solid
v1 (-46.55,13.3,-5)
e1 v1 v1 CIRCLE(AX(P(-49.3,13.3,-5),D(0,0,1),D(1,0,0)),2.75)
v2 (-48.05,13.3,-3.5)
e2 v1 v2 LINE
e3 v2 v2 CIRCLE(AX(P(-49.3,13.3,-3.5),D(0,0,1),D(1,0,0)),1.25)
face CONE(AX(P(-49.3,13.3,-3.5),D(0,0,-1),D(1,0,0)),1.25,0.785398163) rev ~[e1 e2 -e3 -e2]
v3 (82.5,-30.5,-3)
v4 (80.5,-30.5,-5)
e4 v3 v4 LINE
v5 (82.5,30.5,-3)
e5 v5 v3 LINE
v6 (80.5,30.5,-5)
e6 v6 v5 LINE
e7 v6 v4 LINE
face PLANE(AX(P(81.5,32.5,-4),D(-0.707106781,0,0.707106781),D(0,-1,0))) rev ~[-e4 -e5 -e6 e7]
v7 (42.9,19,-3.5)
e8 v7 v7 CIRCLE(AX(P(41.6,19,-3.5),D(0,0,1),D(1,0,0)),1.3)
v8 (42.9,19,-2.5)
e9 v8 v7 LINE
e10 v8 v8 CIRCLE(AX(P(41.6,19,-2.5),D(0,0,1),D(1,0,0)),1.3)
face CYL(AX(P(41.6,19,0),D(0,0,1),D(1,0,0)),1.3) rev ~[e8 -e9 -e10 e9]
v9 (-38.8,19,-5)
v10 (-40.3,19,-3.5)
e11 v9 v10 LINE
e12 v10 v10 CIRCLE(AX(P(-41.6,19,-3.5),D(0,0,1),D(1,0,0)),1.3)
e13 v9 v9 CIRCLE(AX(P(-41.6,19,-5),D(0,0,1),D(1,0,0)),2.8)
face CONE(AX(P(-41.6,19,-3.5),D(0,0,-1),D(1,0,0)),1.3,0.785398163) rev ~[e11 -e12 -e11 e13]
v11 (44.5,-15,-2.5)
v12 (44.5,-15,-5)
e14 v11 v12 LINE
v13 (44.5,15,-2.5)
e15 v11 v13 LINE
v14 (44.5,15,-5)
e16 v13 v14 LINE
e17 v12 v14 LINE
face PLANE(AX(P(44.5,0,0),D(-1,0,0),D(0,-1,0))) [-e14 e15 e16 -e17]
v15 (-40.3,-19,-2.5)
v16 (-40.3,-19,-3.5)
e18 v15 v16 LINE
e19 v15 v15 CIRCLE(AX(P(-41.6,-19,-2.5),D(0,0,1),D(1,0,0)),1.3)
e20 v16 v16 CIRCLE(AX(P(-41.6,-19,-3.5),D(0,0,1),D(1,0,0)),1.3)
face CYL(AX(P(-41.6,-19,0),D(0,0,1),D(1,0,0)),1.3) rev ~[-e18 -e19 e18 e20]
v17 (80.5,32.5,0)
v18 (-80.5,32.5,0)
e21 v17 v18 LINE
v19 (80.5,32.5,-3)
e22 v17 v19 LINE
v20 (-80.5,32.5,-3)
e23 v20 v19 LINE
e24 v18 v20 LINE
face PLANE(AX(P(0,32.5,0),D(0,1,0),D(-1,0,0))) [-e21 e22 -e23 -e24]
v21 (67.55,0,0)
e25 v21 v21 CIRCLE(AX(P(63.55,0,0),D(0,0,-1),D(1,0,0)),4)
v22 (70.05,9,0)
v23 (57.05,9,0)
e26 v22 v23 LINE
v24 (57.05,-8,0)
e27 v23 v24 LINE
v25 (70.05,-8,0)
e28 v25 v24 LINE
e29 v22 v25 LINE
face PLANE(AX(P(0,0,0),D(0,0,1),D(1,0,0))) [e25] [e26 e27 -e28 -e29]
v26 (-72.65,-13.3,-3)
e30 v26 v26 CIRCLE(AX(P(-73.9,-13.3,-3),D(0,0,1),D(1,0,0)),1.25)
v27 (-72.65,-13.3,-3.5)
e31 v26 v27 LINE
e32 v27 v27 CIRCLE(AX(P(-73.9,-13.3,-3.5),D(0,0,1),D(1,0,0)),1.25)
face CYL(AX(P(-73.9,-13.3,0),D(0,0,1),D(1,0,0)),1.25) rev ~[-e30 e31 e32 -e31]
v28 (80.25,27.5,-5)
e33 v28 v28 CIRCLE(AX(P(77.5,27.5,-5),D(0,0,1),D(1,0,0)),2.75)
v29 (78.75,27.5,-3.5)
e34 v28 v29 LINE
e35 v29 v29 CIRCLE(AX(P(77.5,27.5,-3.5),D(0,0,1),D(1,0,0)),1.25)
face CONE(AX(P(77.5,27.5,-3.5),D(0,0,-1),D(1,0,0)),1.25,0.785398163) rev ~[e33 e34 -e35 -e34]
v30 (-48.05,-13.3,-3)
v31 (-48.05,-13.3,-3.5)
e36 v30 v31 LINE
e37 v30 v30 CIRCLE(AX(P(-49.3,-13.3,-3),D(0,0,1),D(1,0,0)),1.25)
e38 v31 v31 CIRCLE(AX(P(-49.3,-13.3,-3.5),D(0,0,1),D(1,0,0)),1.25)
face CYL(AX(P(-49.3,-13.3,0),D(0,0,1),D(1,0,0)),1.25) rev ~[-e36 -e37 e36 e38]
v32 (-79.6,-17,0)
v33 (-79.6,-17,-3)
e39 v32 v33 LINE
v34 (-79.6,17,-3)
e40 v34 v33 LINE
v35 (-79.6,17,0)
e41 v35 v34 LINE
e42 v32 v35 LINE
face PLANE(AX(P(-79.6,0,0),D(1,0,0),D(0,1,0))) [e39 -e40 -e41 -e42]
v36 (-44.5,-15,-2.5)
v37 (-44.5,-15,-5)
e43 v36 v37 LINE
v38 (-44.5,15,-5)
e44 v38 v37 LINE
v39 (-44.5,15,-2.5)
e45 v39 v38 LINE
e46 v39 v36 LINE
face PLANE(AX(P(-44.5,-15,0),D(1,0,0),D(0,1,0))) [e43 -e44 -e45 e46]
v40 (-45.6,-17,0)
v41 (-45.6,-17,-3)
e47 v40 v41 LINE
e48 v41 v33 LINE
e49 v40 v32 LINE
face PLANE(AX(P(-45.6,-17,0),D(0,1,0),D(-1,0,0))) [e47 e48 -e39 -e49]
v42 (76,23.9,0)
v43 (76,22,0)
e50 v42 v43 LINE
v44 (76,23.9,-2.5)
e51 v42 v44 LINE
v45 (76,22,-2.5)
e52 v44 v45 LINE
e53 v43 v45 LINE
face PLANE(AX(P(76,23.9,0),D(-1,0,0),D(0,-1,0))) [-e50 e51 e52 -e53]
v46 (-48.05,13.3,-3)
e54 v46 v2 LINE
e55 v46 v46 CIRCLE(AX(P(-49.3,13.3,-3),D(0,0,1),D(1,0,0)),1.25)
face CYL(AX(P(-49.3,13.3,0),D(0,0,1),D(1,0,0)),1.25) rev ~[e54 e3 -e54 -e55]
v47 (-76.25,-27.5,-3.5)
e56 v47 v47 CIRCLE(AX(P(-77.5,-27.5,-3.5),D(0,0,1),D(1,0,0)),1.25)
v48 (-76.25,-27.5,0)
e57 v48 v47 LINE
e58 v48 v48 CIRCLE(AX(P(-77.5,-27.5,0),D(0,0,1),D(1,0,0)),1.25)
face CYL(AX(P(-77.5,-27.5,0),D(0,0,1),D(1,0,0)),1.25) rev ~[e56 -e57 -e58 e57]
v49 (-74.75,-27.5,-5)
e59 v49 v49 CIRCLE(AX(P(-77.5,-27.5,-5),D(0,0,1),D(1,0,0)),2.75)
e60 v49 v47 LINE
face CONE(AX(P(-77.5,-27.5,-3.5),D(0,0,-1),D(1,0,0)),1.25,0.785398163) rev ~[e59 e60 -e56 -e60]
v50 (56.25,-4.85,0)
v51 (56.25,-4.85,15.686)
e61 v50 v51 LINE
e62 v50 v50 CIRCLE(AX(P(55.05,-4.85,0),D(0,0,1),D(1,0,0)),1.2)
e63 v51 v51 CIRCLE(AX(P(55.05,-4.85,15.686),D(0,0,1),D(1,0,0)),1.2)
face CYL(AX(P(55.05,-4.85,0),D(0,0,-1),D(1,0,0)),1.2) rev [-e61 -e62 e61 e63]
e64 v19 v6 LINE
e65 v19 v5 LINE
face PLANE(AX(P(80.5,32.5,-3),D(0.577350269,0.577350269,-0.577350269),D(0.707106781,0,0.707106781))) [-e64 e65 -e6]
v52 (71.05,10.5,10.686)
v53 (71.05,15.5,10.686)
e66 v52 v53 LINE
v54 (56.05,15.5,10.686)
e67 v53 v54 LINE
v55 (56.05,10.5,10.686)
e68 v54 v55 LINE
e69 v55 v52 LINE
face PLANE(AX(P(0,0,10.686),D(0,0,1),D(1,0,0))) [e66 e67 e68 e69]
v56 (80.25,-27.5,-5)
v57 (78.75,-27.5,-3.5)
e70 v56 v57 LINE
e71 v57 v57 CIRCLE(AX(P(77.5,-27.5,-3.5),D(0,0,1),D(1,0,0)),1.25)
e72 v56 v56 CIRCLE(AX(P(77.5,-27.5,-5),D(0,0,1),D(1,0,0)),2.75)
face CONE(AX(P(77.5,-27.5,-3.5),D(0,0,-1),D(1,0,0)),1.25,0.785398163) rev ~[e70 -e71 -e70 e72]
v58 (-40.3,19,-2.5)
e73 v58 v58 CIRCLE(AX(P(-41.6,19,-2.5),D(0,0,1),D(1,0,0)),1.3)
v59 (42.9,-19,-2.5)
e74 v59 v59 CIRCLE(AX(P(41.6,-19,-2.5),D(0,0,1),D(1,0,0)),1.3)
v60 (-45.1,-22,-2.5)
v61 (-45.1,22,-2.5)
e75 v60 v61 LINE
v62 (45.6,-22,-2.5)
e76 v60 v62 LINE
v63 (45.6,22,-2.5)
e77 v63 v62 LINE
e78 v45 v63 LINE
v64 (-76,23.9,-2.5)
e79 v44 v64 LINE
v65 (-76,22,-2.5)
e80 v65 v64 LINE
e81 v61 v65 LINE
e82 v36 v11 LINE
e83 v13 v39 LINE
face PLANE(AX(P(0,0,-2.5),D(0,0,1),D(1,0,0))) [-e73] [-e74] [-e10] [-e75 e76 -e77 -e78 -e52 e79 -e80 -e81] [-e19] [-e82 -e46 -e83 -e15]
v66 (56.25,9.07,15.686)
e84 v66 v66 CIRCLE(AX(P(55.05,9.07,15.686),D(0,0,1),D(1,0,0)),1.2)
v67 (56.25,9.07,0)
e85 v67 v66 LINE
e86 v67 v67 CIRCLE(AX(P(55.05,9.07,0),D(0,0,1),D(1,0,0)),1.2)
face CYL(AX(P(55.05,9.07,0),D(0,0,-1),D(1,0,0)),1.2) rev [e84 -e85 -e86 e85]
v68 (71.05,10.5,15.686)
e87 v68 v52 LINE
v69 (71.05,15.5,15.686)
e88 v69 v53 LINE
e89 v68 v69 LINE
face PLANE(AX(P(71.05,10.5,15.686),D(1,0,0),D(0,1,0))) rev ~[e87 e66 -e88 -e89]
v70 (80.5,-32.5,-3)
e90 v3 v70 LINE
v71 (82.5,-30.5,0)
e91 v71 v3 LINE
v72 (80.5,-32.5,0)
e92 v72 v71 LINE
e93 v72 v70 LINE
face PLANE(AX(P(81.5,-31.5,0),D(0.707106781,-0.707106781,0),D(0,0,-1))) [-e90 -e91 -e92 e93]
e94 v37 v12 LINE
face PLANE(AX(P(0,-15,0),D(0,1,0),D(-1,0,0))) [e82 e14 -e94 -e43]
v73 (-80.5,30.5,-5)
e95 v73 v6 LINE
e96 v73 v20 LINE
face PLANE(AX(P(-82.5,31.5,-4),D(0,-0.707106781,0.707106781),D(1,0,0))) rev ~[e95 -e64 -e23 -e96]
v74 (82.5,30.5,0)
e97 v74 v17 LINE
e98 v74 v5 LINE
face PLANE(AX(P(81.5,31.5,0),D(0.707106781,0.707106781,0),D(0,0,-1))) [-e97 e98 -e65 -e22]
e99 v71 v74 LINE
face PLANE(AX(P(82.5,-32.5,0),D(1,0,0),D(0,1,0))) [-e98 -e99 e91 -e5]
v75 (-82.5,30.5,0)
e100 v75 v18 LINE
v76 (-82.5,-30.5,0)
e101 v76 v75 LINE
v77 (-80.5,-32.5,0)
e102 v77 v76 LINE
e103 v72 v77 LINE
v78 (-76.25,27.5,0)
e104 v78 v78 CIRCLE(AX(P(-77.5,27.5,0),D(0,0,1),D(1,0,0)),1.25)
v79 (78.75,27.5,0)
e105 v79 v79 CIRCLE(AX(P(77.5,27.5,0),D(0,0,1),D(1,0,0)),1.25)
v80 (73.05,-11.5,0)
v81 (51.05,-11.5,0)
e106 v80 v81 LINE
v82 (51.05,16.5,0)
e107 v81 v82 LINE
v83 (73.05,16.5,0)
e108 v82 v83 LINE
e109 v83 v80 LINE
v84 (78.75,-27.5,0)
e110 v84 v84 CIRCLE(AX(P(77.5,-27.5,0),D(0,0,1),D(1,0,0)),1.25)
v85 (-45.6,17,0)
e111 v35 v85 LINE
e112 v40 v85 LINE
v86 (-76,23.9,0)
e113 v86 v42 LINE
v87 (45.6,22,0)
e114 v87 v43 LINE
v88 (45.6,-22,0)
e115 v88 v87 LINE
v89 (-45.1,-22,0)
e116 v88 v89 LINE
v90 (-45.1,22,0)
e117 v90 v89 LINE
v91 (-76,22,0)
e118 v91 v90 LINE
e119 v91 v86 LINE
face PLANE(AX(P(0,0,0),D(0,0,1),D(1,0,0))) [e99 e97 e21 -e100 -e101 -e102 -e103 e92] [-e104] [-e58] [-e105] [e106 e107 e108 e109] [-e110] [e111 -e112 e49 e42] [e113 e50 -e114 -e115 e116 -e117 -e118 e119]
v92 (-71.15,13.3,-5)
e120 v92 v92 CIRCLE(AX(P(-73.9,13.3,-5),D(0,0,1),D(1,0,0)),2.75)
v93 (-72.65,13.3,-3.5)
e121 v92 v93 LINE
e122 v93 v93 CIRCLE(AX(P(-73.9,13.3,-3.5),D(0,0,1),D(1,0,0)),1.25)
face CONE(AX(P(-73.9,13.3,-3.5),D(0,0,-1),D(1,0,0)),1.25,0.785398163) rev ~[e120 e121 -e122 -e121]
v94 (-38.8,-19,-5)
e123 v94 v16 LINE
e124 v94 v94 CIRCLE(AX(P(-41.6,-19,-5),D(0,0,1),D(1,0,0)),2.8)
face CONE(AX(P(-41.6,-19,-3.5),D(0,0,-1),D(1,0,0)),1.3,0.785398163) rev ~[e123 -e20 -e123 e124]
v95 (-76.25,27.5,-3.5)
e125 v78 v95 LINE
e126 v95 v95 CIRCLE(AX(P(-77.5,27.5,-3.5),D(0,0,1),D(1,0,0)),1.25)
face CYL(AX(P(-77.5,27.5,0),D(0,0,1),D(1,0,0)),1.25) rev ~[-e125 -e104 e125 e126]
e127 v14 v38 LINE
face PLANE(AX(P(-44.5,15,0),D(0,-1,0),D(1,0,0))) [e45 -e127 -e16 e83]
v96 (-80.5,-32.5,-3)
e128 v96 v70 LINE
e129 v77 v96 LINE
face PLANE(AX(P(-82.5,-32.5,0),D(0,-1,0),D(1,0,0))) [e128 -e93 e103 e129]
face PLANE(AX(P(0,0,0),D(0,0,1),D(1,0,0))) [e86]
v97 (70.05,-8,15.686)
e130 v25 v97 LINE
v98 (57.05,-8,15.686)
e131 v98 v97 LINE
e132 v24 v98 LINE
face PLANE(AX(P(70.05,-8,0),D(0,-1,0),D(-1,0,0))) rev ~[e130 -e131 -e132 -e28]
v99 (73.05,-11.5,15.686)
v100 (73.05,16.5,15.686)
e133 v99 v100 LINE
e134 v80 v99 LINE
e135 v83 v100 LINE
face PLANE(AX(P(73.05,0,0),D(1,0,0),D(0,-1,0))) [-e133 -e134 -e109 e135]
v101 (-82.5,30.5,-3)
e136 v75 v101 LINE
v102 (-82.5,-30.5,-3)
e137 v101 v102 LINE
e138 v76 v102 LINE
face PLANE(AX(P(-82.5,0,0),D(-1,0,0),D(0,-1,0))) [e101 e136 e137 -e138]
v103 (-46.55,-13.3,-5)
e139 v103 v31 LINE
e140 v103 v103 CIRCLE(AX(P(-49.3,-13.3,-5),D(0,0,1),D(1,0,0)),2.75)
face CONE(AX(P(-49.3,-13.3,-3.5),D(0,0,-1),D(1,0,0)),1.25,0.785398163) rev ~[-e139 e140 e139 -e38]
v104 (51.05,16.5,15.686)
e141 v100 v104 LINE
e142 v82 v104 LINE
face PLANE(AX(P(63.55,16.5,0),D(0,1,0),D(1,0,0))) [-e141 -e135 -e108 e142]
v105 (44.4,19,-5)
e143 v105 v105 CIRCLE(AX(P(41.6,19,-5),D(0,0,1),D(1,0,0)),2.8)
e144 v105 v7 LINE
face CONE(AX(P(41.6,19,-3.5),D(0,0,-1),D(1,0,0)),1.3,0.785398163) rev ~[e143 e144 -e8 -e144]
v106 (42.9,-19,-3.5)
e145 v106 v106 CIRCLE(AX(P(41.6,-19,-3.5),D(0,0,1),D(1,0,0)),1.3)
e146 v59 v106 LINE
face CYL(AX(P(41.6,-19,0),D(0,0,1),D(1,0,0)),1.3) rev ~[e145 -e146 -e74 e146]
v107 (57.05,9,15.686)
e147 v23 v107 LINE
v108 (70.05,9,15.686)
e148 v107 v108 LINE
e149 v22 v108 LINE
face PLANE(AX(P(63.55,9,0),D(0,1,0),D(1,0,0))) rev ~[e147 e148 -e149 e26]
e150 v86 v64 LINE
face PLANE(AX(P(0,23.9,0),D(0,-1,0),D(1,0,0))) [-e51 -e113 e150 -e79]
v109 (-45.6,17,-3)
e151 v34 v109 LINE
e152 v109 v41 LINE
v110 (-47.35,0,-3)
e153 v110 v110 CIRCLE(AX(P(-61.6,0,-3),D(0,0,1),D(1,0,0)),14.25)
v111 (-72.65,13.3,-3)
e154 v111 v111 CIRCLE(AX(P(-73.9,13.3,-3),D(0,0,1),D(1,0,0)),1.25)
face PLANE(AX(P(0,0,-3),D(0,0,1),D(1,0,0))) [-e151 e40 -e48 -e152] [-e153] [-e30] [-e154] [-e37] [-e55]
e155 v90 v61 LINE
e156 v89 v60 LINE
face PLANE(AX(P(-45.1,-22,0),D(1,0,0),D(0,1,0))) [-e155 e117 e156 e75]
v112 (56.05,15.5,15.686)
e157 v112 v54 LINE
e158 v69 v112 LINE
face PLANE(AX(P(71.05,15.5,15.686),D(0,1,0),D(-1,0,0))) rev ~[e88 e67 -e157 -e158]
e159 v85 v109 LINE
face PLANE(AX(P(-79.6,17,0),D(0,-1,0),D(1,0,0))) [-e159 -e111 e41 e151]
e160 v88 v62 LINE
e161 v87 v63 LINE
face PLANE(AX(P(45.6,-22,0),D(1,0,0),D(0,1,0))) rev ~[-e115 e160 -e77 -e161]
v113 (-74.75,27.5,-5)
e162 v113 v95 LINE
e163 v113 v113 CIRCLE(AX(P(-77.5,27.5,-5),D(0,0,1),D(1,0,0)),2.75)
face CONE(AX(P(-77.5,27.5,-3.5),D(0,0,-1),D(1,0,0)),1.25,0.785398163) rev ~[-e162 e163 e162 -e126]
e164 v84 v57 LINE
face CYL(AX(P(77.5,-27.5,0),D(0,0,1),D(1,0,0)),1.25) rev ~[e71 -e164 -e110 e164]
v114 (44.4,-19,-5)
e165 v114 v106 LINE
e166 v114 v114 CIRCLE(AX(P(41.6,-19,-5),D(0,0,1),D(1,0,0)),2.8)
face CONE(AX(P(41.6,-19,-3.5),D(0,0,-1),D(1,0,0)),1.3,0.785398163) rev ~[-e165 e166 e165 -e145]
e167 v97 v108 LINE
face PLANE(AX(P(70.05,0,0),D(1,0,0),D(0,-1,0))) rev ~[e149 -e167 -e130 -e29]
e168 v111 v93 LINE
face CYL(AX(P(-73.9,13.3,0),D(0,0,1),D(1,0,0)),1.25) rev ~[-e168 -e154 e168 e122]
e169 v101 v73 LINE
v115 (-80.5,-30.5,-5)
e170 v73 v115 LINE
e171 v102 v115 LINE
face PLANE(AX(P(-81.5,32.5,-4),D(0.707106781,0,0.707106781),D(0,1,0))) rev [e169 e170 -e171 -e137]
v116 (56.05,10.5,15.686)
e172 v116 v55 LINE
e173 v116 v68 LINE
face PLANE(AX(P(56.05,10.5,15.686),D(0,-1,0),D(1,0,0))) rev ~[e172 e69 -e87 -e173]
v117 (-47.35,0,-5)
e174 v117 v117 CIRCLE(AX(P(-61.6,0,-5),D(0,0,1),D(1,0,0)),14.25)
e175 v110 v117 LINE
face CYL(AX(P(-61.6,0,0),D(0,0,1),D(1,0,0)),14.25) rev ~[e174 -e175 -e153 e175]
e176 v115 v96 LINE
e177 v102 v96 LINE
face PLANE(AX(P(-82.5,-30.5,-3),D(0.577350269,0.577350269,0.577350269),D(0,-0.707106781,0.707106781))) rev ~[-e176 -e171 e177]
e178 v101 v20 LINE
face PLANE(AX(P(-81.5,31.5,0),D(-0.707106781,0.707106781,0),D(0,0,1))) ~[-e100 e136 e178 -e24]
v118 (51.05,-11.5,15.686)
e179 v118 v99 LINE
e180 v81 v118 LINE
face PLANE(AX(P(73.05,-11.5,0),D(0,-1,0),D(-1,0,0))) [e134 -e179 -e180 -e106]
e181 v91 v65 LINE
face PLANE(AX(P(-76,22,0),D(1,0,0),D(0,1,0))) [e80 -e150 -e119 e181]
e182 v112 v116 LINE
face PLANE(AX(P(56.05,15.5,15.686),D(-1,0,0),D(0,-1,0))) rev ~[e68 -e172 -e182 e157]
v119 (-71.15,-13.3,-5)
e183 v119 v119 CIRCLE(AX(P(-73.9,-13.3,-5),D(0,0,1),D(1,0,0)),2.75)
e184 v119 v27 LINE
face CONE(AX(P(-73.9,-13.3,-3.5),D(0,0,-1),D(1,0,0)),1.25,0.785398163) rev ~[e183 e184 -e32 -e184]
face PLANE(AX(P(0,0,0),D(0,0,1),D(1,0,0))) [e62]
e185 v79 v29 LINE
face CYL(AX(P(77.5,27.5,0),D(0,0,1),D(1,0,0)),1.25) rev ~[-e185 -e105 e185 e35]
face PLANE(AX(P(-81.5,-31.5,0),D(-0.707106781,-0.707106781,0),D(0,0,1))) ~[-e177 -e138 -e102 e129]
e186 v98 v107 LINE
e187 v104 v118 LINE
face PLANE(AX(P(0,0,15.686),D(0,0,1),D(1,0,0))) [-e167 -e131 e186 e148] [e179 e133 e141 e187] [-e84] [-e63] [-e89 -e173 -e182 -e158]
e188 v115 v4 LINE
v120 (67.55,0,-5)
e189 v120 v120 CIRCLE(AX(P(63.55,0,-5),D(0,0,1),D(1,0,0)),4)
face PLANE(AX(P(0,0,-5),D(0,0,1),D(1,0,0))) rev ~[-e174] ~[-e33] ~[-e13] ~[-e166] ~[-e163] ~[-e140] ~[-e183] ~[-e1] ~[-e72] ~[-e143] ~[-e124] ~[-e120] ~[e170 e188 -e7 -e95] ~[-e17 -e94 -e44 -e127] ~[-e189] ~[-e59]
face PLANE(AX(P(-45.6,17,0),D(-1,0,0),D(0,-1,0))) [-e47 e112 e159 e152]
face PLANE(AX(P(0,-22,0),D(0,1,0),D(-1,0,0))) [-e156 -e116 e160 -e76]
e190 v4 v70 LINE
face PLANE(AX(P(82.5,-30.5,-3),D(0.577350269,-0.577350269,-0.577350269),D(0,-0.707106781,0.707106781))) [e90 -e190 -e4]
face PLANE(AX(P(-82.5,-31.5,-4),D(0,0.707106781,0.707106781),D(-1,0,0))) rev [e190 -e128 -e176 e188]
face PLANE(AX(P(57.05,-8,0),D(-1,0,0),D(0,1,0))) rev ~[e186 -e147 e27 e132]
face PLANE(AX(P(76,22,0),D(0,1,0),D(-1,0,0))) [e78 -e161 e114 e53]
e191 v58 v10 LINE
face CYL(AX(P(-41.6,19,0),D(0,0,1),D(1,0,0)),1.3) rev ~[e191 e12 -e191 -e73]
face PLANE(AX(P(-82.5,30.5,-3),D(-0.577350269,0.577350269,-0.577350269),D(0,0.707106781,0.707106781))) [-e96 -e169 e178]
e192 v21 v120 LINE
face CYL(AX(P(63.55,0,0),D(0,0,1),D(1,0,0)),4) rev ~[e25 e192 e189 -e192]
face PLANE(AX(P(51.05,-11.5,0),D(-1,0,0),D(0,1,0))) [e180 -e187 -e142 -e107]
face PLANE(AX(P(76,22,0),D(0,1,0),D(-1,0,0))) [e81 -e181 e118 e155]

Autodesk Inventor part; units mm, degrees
ref_plane "YZ Plane" through (0, 0, 0) normal (1, 0, 0) x (0, 1, 0)
ref_plane "XZ Plane" through (0, 0, 0) normal (0, 1, 0) x (-1, 0, 0)
ref_plane "XY Plane" through (0, 0, 0) normal (0, 0, 1) x (1, 0, 0)
sketch "Esquisse1" plane through (0, 0, 0) normal (0, 0, 1) x (1, 0, 0)
  line L0 (-82.5, -32.5) -> (82.5, -32.5)
  line L1 (82.5, -32.5) -> (82.5, 32.5)
  line L2 (82.5, 32.5) -> (-82.5, 32.5)
  line L3 (-82.5, 32.5) -> (-82.5, -32.5)
  line L4 (-115.5, 0) -> (115.5, 0) projected
  line L5 (0, -45.5) -> (0, 45.5) projected
  line L6 (-44.5, 15) -> (44.5, 15)
  line L7 (44.5, 15) -> (44.5, -15)
  line L8 (44.5, -15) -> (-44.5, -15)
  line L9 (-44.5, -15) -> (-44.5, 15)
  line L10 (-44.6, 22) -> (44.6, 22)
  line L11 (44.6, 22) -> (44.6, -22)
  line L12 (44.6, -22) -> (-44.6, -22)
  line L13 (-44.6, -22) -> (-44.6, 22)
  circle A0 centre (-41.6, 19) radius 1.3
  circle A1 centre (41.6, 19) radius 1.3
  circle A2 centre (-41.6, -19) radius 1.3
  circle A3 centre (41.6, -19) radius 1.3
  line L14 (-45.6, -17) -> (-79.6, -17)
  line L15 (-79.6, -17) -> (-79.6, 17)
  line L16 (-79.6, 17) -> (-45.6, 17)
  line L17 (-45.6, 17) -> (-45.6, -17)
  circle A4 centre (-49.3, -13.3) radius 1.25
  circle A5 centre (-49.3, 13.3) radius 1.25
  circle A6 centre (-73.9, -13.3) radius 1.25
  circle A7 centre (-73.9, 13.3) radius 1.25
  circle A8 centre (-61.6, 0) radius 14.25
  circle A9 centre (-77.5, -27.5) radius 1.25
  circle A10 centre (77.5, -27.5) radius 1.25
  circle A11 centre (-77.5, 27.5) radius 1.25
  circle A12 centre (77.5, 27.5) radius 1.25
  circle A13 centre (63.55, 0) radius 4
  line L18 (-76, 23.9) -> (76, 23.9)
  line L19 (76, 23.9) -> (76, 22)
  line L20 (76, 22) -> (-76, 22)
  line L21 (-76, 22) -> (-76, 23.9)
  line L22 (82.5, 32.5) -> (-82.5, 32.5)
  line L23 (-82.5, 32.5) -> (-82.5, 30.5)
  line L24 (-82.5, 30.5) -> (82.5, 30.5)
  line L25 (82.5, 30.5) -> (82.5, 32.5)
  line L26 (-44.6, -22) -> (-45.1, -22)
  line L27 (-45.1, -22) -> (-45.1, 22)
  line L28 (-45.1, 22) -> (-44.6, 22)
  line L29 (-44.6, 22) -> (-44.6, -22)
  line L30 (44.6, -22) -> (45.6, -22)
  line L31 (45.6, -22) -> (45.6, 22)
  line L32 (45.6, 22) -> (44.6, 22)
  line L33 (44.6, 22) -> (44.6, -22)
  point P0 (0, 0)
  point P1 (82.5, 30.5)
  point P2 (-44.6, 0)
  point P3 (-45.1, 0)
  dimension "d0" = 165
  dimension "d1" = 65
  dimension "d2" = 30
  dimension "d3" = 89
  dimension "d4" = 89.2
  dimension "d6" = 2.6
  dimension "d31" = 34
  dimension "d32" = 34
  dimension "d33" = 1
  dimension "d34" = 2.5
  dimension "d35" = 3.7
  dimension "d36" = 3.7
  dimension "d39" = 24.6
  dimension "d44" = 28.5
  dimension "d45" = 16
  dimension "d53" = 2.5
  dimension "d54" = 5
  dimension "d55" = 5
  dimension "d58" = 155
  dimension "d68" = 8
  dimension "d116" = 44.6
  dimension "d119" = 63.55
  dimension "d122" = 22
  dimension "d124" = 44.6
  dimension "d125" = 22
  dimension "d127" = 152
  dimension "d128" = 1.9
  dimension "d131" = 2
  dimension "d134" = 41.6
  dimension "d135" = 19
  dimension "d136" = 82.5
  dimension "d137" = 30.5
  dimension "d138" = 44.6
  dimension "d139" = 22
  dimension "d140" = 41.6
  dimension "d141" = 44.6
  dimension "d142" = 22
  dimension "d143" = 0.5
  dimension "d144" = 1
extrude "Extrusion1" add sketch "Esquisse1" against normal blind 5 contours L3 L4 L15 L14 L17 L27 L26 L12 L5 L0 | L5 L12 L30 L31 L4 A13 L1 L0 | L3 L24 L5 L18 L21 L20 L27 L4 L17 L16 L15 | L12 L13 L4 L9 L8 L5 | L5 L8 L7 L4 L11 L12 | L3 L2 L5 L24 | L15 L16 L17 L4 A8 | L4 A8 L17 L14 L15 | L4 A13 L31 L20 L19 L18 L5 L24 L1 | L11 L4 L31 L30 | L26 L27 L4 L13 | L5 L2 L1 L24 | A8 L4 | L4 A8 | A13 L4 | L4 A13 | L11 L20 L31 L4 | L4 L7 L6 L5 L10 L11 | L13 L10 L5 L6 L9 L4 | L4 L27 L20 L13 | L18 L19 L20 L10 L5 | L5 L10 L20 L21 L18 | A4 | A5 | A6 | A7 | A9 | A10 | A11 | A12
extrude "Extrusion2" cut sketch "Esquisse1" against normal blind 2.5 contours L12 L13 L4 L9 L8 L5 | L5 L8 L7 L4 L11 L12 | L8 L9 L4 L5 | L5 L4 L7 L8 | L11 L4 L31 L30 | L26 L27 L4 L13 | L5 L6 L7 L4 | L4 L9 L6 L5 | L11 L20 L31 L4 | L4 L7 L6 L5 L10 L11 | L13 L10 L5 L6 L9 L4 | L4 L27 L20 L13
chamfer "Chanfrein1" distance 1.5 angle 45 4 edges at (40.3, 19, -5) (-42.9, 19, -5) (40.3, -19, -5) (-42.9, -19, -5)
extrude "Extrusion3" cut sketch "Esquisse1" against normal through all contours A8 L4 | L4 A8 | A4 | A5 | A6 | A7
extrude "Extrusion4" cut sketch "Esquisse1" against normal blind 3 contours L15 L16 L17 L4 A8 | L4 A8 L17 L14 L15
chamfer "Chanfrein2" distance 1.5 angle 45 4 edges at (-75.15, 13.3, -5) (-50.55, -13.3, -5) (-75.15, -13.3, -5) (-50.55, 13.3, -5)
extrude "Extrusion5" cut sketch "Esquisse1" against normal through all contours A9 | A10 | A11 | A12
chamfer "Chanfrein3" distance 1.5 angle 45 4 edges at (-78.75, -27.5, -5) (-78.75, 27.5, -5) (76.25, -27.5, -5) (76.25, 27.5, -5)
extrude "Extrusion6" cut sketch "Esquisse1" against normal through all contours A13 L4 | L4 A13
sketch "Esquisse3" plane through (0, 0, 0) normal (0, 0, 1) x (1, 0, 0)
  line L0 (70.05, -8) -> (57.05, -8)
  line L1 (57.05, -8) -> (57.05, 9)
  line L2 (57.05, 9) -> (70.05, 9)
  line L3 (70.05, 9) -> (70.05, -8)
  circle A0 centre (63.55, 0) radius 4 projected
  line L4 (-115.5, 0) -> (115.5, 0) projected
  line L5 (73.05, -11.5) -> (51.05, -11.5)
  line L6 (51.05, -11.5) -> (51.05, 16.5)
  line L7 (51.05, 16.5) -> (73.05, 16.5)
  line L8 (73.05, 16.5) -> (73.05, -11.5)
  line L9 (63.55, -11.5) -> (63.55, 16.9619)
  circle A1 centre (55.05, -4.85) radius 1.2
  circle A2 centre (55.05, 9.07) radius 1.2
  point P0 (0, 0)
  dimension "d77" = 13
  dimension "d78" = 17
  dimension "d79" = 6.5
  dimension "d80" = 11.5
  dimension "d83" = 22
  dimension "d84" = 28
  dimension "d86" = 8
  dimension "d97" = 6
  dimension "d98" = 2.4
  dimension "d99" = 9.5
  dimension "d100" = 16.9619
  dimension "d101" = 9.07
  dimension "d102" = 4.85
  dimension "d103" = 18
  dimension "d104" = 18
extrude "Extrusion7" add sketch "Esquisse3" along normal blind 15.686 contours L3 L4 L8 L5 L9 L0 | L9 L5 L6 L4 L1 L0 | L3 L2 L9 L7 L8 L4 | L4 L6 L7 L9 L2 L1
sketch "Esquisse4" plane through (0, 0, 15.686) normal (0, 0, 1) x (1, 0, 0)
  line L0 (71.05, 15.5) -> (56.05, 15.5)
  line L1 (56.05, 15.5) -> (56.05, 10.5)
  line L2 (56.05, 10.5) -> (71.05, 10.5)
  line L3 (71.05, 10.5) -> (71.05, 15.5)
  line L4 (73.05, -11.5) -> (73.05, 16.5) projected
  line L5 (73.05, 16.5) -> (51.05, 16.5) projected
  line L6 (51.05, 16.5) -> (51.05, -11.5) projected
  point P0 (0, 0)
  dimension "d106" = 2
  dimension "d107" = 1
  dimension "d108" = 5
  dimension "d109" = 5
extrude "Extrusion8" cut sketch "Esquisse4" against normal blind 5
extrude "Extrusion10" cut sketch "Esquisse1" against normal blind 2.5 contours L18 L19 L20 L10 L5 | L5 L10 L20 L21 L18
chamfer "Chanfrein4" distance 2 angle 45 8 edges at (0, -32.5, -5) (82.5, 0, -5) (0, 32.5, -5) (-82.5, 0, -5) (82.5, -32.5, -2.5) (82.5, 32.5, -2.5) (-82.5, 32.5, -2.5) (-82.5, -32.5, -2.5)
properties part number "face_frontale" material "PVC, non plastifié"
